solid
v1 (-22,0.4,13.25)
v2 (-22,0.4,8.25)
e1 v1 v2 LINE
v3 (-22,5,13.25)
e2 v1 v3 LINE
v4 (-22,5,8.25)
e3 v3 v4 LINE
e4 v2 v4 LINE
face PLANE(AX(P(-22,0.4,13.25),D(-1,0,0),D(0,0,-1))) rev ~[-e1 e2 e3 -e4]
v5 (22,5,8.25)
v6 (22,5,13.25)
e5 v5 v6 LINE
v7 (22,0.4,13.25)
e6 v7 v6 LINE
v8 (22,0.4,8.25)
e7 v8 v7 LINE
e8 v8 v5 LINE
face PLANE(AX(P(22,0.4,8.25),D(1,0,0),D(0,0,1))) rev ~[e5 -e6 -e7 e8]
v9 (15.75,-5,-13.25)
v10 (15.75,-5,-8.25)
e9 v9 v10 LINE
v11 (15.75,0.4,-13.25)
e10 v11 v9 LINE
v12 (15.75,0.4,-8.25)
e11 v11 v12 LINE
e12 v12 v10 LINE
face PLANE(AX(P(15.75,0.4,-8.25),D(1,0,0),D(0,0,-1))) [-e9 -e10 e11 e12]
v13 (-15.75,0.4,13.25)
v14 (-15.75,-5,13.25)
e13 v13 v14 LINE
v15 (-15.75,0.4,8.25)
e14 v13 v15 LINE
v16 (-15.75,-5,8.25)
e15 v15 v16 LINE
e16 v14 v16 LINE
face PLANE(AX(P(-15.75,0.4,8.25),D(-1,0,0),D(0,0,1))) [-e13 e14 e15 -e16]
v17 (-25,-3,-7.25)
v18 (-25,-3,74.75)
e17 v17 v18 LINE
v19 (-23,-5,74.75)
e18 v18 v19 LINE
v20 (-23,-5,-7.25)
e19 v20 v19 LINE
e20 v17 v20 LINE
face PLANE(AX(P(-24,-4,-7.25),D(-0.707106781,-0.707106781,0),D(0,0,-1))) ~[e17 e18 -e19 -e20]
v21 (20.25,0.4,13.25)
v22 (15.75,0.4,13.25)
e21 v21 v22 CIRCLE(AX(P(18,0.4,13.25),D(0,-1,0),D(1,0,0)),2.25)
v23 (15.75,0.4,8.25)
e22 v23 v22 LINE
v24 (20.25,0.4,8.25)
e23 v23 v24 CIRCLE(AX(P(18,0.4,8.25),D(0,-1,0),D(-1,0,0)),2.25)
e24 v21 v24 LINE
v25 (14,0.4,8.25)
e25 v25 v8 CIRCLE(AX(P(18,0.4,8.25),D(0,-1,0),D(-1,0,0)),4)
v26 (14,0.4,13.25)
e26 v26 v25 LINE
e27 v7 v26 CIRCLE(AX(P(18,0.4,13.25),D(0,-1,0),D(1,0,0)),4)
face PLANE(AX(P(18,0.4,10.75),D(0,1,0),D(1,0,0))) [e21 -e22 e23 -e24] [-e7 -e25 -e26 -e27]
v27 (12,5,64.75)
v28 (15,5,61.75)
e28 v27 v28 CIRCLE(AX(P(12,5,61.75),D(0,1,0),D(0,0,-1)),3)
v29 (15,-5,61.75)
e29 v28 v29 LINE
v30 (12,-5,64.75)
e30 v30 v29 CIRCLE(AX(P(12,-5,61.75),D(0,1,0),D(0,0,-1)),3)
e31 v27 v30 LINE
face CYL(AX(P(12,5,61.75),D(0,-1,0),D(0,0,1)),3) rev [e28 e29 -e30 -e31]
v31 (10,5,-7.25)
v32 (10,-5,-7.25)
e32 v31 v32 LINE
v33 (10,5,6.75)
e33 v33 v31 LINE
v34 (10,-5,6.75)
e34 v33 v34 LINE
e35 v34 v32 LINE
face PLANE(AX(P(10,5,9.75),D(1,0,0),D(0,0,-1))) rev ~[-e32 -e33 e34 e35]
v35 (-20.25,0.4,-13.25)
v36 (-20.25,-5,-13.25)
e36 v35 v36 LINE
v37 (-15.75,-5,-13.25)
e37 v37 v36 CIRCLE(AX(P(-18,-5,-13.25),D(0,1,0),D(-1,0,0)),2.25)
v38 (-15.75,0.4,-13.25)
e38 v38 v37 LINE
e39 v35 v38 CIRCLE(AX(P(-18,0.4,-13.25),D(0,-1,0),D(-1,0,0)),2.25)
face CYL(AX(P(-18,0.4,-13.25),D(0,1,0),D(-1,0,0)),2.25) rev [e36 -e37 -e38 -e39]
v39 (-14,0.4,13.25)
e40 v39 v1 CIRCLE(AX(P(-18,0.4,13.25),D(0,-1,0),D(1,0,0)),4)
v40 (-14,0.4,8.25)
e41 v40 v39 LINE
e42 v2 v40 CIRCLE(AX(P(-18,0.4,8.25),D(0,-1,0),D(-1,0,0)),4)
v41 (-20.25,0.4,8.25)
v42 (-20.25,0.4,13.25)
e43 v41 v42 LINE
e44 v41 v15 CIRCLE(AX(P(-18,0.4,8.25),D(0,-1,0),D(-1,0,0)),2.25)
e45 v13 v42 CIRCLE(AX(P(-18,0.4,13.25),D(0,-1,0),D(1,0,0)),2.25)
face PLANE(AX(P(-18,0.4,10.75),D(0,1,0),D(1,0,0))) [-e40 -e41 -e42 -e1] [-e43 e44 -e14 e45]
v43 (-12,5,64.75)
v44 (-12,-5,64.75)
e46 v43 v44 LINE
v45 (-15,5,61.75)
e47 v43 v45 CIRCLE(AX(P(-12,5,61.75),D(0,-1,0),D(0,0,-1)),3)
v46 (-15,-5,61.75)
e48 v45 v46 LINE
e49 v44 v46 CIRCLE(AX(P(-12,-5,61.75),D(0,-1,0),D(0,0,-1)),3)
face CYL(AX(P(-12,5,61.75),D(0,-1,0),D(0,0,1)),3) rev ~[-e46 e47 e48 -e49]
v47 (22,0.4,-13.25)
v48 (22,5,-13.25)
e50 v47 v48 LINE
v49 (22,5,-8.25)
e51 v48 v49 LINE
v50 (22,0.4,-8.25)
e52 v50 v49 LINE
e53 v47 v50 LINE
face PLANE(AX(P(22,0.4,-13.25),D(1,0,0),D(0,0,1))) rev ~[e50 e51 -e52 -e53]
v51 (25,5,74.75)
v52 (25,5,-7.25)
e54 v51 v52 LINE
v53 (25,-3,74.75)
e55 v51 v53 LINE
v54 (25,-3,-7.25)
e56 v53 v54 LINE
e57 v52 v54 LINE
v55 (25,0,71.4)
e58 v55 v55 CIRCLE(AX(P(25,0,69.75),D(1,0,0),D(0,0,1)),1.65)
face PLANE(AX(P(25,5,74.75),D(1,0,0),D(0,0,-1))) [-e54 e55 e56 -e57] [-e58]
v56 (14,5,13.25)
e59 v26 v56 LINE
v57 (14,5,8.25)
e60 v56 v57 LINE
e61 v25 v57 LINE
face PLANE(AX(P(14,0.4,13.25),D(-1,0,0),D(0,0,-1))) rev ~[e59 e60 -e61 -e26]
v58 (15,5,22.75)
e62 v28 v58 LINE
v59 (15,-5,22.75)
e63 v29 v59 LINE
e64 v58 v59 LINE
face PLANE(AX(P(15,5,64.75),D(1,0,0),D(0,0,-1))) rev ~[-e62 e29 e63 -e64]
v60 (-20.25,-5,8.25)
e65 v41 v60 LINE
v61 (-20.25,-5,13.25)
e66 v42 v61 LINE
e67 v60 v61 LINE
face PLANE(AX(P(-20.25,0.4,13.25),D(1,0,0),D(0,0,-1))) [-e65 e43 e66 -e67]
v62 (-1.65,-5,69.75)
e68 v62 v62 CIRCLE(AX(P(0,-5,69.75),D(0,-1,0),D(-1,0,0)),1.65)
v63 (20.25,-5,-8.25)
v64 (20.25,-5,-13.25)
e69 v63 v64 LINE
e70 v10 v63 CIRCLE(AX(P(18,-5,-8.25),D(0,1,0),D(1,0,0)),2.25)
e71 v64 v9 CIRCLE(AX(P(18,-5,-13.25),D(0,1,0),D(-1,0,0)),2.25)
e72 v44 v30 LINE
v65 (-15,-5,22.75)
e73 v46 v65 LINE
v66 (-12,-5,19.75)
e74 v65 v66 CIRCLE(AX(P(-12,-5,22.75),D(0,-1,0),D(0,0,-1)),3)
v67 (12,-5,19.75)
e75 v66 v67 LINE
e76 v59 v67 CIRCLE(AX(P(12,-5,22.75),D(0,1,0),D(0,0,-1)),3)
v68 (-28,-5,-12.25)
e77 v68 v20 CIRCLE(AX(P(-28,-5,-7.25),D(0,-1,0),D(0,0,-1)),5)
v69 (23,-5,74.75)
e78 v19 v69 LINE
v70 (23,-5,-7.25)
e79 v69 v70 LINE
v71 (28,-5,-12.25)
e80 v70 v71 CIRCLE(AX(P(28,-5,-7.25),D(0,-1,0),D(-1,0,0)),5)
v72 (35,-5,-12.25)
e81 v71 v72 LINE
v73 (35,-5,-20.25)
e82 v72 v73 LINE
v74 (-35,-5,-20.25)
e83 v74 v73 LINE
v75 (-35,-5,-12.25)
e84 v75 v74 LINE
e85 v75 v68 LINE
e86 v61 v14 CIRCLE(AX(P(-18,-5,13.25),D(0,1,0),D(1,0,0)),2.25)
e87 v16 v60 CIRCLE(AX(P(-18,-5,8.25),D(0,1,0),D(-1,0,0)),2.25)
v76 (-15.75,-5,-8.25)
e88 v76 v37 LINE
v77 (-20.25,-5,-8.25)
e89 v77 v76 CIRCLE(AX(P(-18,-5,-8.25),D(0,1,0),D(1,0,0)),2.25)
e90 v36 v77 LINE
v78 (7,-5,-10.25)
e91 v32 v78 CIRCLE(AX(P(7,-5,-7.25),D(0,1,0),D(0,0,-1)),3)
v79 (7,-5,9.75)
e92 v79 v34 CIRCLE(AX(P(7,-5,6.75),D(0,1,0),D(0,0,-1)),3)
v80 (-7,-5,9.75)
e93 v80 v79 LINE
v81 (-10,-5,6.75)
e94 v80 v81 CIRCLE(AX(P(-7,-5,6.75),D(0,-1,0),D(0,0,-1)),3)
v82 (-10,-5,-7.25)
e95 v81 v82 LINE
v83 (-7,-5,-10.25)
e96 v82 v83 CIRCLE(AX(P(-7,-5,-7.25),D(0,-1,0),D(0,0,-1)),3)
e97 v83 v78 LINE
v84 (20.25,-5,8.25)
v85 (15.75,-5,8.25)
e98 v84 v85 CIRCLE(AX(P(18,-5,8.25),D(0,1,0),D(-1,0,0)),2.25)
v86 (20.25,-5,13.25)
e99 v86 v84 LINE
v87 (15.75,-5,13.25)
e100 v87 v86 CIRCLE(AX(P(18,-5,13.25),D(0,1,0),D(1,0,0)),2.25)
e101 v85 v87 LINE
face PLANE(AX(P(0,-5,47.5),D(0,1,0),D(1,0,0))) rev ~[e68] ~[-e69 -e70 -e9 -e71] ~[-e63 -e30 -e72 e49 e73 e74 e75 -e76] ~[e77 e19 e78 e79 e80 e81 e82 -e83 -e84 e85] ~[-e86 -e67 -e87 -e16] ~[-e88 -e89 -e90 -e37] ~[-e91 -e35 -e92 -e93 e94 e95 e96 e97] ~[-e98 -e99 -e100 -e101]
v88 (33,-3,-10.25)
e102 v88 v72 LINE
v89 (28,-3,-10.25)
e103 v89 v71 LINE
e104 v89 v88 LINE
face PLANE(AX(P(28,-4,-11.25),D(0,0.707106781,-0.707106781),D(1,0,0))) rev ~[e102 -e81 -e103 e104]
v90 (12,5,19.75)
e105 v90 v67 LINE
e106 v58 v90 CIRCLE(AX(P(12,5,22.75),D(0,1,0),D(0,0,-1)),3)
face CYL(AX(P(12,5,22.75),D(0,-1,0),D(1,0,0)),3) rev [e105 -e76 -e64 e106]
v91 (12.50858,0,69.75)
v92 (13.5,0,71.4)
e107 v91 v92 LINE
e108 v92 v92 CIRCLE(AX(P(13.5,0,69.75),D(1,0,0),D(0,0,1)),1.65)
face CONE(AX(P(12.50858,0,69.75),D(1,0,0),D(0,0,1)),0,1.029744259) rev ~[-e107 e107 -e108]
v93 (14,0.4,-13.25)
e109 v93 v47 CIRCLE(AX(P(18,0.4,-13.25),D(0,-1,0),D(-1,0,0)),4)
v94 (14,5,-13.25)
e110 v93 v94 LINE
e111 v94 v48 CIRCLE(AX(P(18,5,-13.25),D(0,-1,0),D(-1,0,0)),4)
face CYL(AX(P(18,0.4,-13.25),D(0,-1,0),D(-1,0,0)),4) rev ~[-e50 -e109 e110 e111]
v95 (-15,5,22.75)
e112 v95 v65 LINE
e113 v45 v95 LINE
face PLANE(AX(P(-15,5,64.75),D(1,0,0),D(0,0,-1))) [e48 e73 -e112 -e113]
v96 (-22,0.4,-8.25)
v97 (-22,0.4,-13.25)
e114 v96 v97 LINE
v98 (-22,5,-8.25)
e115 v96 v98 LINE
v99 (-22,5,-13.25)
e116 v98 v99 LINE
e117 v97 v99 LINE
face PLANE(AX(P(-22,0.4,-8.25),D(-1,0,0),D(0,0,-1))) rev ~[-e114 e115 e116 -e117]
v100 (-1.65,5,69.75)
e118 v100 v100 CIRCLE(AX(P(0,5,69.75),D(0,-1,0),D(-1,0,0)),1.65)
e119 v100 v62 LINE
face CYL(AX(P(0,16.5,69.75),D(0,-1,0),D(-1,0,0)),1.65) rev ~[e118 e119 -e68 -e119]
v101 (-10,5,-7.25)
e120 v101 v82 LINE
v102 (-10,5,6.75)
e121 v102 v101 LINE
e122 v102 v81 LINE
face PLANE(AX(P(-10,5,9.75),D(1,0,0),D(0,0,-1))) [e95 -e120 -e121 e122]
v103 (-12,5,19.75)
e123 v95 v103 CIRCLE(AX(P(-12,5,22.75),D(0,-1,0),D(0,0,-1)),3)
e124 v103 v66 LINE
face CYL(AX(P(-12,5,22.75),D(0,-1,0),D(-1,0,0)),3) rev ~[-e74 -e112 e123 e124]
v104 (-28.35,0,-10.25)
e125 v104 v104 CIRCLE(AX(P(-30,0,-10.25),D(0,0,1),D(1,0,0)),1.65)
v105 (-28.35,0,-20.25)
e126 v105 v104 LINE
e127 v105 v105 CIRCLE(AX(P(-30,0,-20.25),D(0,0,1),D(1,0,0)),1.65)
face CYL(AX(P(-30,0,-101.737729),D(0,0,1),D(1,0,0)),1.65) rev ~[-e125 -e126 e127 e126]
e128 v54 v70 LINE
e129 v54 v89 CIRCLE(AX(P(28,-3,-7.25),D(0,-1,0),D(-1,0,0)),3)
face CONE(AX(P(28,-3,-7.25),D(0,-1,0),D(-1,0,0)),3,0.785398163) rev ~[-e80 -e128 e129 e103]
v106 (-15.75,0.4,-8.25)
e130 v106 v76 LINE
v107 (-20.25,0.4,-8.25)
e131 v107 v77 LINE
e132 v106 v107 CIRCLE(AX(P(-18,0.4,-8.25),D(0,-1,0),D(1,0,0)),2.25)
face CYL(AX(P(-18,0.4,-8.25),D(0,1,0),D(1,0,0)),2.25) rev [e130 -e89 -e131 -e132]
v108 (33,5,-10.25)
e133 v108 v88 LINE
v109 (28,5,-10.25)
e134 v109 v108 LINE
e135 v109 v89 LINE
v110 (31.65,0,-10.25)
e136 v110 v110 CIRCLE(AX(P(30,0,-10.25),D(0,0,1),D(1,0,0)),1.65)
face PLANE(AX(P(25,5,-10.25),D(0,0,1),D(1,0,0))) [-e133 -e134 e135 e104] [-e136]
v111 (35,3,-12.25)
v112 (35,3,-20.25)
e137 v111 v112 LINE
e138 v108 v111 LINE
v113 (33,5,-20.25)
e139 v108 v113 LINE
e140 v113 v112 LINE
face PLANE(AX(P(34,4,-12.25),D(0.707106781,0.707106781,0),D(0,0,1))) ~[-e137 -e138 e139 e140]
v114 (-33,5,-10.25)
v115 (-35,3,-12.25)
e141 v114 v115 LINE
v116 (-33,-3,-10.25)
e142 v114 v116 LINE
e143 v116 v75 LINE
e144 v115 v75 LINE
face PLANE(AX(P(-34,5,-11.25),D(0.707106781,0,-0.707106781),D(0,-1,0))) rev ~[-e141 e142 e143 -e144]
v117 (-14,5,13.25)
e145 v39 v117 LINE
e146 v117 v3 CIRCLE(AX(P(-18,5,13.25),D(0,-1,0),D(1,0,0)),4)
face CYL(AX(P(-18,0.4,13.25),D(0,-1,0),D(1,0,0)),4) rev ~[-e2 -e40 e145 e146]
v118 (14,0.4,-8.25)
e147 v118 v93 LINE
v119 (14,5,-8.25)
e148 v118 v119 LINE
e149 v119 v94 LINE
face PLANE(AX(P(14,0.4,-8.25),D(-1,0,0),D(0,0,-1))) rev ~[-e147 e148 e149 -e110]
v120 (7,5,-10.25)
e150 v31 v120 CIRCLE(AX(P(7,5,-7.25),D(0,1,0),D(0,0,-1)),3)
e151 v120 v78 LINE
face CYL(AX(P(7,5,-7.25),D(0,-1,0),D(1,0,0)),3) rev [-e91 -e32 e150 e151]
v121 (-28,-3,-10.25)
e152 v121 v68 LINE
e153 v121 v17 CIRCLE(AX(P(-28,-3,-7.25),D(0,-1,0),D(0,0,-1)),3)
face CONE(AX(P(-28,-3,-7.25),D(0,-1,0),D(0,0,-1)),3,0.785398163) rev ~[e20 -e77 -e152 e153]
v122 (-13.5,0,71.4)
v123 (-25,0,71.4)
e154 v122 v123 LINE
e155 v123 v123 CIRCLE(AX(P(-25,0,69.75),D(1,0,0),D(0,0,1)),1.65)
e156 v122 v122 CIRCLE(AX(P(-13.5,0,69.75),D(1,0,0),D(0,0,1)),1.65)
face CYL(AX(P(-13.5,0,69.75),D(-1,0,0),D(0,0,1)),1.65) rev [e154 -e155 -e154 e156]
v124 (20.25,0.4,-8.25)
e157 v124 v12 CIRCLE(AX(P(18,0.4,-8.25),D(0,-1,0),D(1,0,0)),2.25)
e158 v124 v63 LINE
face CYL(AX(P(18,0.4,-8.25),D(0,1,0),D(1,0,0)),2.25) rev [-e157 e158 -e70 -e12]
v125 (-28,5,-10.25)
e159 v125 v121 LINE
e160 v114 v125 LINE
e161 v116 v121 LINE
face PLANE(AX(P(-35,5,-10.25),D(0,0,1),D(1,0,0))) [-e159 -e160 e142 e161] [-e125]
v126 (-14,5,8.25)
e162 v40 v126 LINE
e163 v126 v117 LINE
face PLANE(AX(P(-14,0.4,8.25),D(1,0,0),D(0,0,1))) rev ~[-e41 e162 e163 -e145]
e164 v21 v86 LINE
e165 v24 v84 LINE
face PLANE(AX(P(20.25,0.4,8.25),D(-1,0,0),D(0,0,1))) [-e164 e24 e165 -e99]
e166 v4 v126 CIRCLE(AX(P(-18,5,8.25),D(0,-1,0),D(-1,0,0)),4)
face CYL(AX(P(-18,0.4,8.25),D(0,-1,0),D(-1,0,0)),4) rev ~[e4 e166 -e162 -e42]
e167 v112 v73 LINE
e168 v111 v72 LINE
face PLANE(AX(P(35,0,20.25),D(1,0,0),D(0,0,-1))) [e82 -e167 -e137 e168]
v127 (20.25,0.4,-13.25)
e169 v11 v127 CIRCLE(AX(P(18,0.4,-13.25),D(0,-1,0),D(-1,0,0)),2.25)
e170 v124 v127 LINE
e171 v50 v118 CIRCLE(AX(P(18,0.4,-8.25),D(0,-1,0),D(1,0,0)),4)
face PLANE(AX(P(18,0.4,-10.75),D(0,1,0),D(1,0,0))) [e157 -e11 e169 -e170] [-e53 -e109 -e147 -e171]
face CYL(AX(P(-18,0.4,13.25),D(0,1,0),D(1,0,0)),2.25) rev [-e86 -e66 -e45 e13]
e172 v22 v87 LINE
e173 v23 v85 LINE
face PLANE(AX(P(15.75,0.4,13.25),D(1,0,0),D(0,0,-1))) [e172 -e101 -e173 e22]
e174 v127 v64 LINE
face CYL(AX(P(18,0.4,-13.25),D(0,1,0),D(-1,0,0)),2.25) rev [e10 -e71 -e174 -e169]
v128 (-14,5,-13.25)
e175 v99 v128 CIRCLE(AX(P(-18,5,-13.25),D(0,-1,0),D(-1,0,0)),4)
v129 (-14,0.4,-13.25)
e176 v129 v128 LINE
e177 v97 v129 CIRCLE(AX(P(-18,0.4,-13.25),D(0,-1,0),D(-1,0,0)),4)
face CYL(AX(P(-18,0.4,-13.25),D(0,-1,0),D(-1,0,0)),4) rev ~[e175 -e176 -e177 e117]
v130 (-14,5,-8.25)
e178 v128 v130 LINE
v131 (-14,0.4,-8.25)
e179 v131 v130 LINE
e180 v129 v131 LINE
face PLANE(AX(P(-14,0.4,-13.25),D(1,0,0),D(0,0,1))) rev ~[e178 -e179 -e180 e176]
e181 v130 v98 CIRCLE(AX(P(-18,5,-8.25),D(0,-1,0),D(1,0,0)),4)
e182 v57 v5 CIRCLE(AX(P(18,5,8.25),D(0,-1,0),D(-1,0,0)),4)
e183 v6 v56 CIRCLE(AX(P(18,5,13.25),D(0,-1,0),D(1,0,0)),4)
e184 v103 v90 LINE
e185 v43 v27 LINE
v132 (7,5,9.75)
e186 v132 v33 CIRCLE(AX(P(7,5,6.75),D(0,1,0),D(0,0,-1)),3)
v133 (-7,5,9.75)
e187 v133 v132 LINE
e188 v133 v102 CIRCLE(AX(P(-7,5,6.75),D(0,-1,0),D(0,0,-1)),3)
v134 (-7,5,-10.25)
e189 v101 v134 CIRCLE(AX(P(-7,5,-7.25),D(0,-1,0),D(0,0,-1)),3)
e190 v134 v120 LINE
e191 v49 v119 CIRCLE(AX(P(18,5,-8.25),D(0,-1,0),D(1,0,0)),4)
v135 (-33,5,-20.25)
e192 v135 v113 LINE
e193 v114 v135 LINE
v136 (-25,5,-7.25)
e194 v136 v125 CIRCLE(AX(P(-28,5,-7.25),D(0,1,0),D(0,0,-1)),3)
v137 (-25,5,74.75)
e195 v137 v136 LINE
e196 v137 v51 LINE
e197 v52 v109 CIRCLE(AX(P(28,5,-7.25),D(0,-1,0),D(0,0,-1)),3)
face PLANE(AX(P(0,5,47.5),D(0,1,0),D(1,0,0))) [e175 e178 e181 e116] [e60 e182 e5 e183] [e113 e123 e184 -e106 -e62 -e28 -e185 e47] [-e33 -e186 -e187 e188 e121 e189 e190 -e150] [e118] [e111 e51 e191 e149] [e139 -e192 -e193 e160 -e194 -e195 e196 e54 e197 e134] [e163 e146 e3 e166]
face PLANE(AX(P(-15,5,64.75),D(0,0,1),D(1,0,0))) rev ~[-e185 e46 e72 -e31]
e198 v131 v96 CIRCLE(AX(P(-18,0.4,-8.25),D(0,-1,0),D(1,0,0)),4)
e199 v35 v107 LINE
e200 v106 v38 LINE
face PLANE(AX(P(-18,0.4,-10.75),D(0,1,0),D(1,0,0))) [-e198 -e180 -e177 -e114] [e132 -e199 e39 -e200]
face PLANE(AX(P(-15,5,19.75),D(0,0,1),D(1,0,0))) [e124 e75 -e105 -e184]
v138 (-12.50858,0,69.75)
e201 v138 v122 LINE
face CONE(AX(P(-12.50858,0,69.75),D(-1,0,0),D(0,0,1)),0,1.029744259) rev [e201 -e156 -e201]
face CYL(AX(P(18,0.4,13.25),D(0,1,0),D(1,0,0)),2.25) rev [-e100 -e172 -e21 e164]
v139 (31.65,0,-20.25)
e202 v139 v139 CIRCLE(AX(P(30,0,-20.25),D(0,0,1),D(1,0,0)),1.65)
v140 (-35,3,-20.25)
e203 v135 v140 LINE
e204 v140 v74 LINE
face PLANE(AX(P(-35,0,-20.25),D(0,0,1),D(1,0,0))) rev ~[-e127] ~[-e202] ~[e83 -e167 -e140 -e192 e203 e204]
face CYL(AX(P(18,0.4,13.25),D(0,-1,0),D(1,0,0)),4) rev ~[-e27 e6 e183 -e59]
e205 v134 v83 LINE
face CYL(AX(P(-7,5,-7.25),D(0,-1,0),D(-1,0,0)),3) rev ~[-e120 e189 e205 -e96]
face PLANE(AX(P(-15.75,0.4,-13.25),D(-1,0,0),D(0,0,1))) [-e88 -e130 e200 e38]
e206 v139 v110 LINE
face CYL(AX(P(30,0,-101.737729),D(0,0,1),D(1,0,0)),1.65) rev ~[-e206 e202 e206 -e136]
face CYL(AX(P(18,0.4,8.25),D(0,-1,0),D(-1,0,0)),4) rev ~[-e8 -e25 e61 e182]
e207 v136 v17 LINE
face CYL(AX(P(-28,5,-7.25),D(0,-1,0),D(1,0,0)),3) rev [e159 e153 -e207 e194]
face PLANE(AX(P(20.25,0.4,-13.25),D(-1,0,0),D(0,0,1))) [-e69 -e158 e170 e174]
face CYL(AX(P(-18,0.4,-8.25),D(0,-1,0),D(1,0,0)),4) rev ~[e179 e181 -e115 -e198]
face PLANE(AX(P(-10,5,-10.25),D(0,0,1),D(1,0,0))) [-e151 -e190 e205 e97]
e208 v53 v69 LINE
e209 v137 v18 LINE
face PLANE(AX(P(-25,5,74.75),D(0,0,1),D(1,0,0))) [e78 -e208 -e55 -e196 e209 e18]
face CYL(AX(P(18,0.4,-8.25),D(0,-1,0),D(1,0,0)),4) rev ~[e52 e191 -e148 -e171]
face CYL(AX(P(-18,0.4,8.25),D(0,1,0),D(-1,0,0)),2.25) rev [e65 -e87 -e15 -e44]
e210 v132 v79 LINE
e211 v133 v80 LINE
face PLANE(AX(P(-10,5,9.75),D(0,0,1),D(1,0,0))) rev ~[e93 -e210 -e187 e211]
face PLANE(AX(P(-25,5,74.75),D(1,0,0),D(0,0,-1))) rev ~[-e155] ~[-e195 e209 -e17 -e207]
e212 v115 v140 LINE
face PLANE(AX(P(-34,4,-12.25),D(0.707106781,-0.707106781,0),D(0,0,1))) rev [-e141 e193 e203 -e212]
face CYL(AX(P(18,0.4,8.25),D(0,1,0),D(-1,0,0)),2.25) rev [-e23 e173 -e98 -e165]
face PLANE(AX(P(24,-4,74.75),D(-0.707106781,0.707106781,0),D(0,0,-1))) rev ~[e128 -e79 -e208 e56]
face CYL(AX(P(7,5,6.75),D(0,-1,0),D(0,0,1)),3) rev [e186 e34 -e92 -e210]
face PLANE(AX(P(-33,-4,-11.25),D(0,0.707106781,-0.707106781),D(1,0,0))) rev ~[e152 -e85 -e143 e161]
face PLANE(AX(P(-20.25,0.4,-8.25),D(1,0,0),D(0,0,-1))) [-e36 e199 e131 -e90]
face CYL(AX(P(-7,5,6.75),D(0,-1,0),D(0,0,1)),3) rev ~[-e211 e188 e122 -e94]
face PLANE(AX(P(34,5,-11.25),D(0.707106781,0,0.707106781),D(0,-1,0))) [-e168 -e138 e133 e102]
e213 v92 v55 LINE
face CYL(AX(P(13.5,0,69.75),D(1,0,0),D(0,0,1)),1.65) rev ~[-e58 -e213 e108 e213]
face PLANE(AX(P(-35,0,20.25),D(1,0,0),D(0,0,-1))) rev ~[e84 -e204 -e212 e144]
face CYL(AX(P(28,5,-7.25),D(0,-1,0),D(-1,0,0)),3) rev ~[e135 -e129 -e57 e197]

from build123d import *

# Parameters (mm, degrees)
SKETCH1_W                                            = 70
SKETCH1_H                                            = 40.5
BOSS_EXTRUDE1_DEPTH                                  = 5
CBORE_FOR_M4_HEXAGON_SOCKET_HEAD_CAP_SCR_D           = 4.5
CBORE_FOR_M4_HEXAGON_SOCKET_HEAD_CAP_SCR_CBORE_D     = 8
CBORE_FOR_M4_HEXAGON_SOCKET_HEAD_CAP_SCR_CBORE_DEPTH = 4.6
CUT_EXTRUDE1_DEPTH                                   = 41.794883258
CUT_EXTRUDE2_DEPTH                                   = 41.794883258
M4_TAPPED_HOLE1_D                                    = 3.3
SKETCH10_W                                           = 10
SKETCH10_H                                           = 30.5
CUT_EXTRUDE3_DEPTH                                   = 42.654081433
SKETCH13_W                                           = 50
SKETCH13_H                                           = 54.5
BOSS_EXTRUDE3_DEPTH                                  = 10
SKETCH14_W                                           = 20
SKETCH14_H                                           = 20
SKETCH14_W_2                                         = 30
SKETCH14_H_2                                         = 45
CUT_EXTRUDE4_DEPTH                                   = 84.141821606
M4_TAPPED_HOLE3_D                                    = 3.3
M4_TAPPED_HOLE3_DEPTH                                = 11.5
M4_TAPPED_HOLE3_TIP                                  = 0.991420021
FILLET1_R                                            = 3
CHAMFER1_SIZE                                        = 2
CHAMFER2_SIZE                                        = 2
CHAMFER3_SIZE                                        = 2


with BuildPart() as part:
    # Sketch1 → Boss-Extrude1 (new, symmetric)
    with BuildSketch(Plane(origin=(0, 0, 0), x_dir=(1, 0, 0), z_dir=(0, 1, 0))):
        Rectangle(SKETCH1_W, SKETCH1_H)
    extrude(amount=BOSS_EXTRUDE1_DEPTH, both=True)

    # CBORE for M4 Hexagon socket head cap screws1 (through all)
    with Locations(Plane(origin=(0, 5, 0), x_dir=(1, 0, 0), z_dir=(0, 1, 0))):
        with Locations((-18, 10.75), (18, 10.75), (18, -10.75), (-18, -10.75)):
            CounterBoreHole(CBORE_FOR_M4_HEXAGON_SOCKET_HEAD_CAP_SCR_D / 2, CBORE_FOR_M4_HEXAGON_SOCKET_HEAD_CAP_SCR_CBORE_D / 2, CBORE_FOR_M4_HEXAGON_SOCKET_HEAD_CAP_SCR_CBORE_DEPTH)

    # Sketch4 → Cut-Extrude1 (cut, through all)
    with BuildSketch(Plane(origin=(0, 0.4, 0), x_dir=(1, 0, 0), z_dir=(0, 1, 0))):
        with BuildLine():
            Line((-22, 8.25), (-22, 13.25))
            ThreePointArc((-22, 13.25), (-18, 17.25), (-14, 13.25))
            Line((-14, 13.25), (-14, 8.25))
            ThreePointArc((-14, 8.25), (-18, 4.25), (-22, 8.25))
        make_face()
        with BuildLine():
            Line((22, 13.25), (22, 8.25))
            ThreePointArc((22, 8.25), (18, 4.25), (14, 8.25))
            Line((14, 8.25), (14, 13.25))
            ThreePointArc((14, 13.25), (18, 17.25), (22, 13.25))
        make_face()
        with BuildLine():
            Line((-14, -8.25), (-14, -13.25))
            ThreePointArc((-14, -13.25), (-18, -17.25), (-22, -13.25))
            Line((-22, -13.25), (-22, -8.25))
            ThreePointArc((-22, -8.25), (-18, -4.25), (-14, -8.25))
        make_face()
        with BuildLine():
            Line((22, -8.25), (22, -13.25))
            ThreePointArc((22, -13.25), (18, -17.25), (14, -13.25))
            Line((14, -13.25), (14, -8.25))
            ThreePointArc((14, -8.25), (18, -4.25), (22, -8.25))
        make_face()
    extrude(amount=CUT_EXTRUDE1_DEPTH, mode=Mode.SUBTRACT)

    # Sketch5 → Cut-Extrude2 (cut, through all)
    with BuildSketch(Plane(origin=(0, 0.4, 0), x_dir=(1, 0, 0), z_dir=(0, 1, 0))):
        with BuildLine():
            Line((-15.75, 13.25), (-15.75, 8.25))
            ThreePointArc((-15.75, 8.25), (-18, 6), (-20.25, 8.25))
            Line((-20.25, 8.25), (-20.25, 13.25))
            ThreePointArc((-20.25, 13.25), (-18, 15.5), (-15.75, 13.25))
        make_face()
        with BuildLine():
            Line((20.25, 13.25), (20.25, 8.25))
            ThreePointArc((20.25, 8.25), (18, 6), (15.75, 8.25))
            Line((15.75, 8.25), (15.75, 13.25))
            ThreePointArc((15.75, 13.25), (18, 15.5), (20.25, 13.25))
        make_face()
        with BuildLine():
            Line((-15.75, -8.25), (-15.75, -13.25))
            ThreePointArc((-15.75, -13.25), (-18, -15.5), (-20.25, -13.25))
            Line((-20.25, -13.25), (-20.25, -8.25))
            ThreePointArc((-20.25, -8.25), (-18, -6), (-15.75, -8.25))
        make_face()
        with BuildLine():
            Line((20.25, -8.25), (20.25, -13.25))
            ThreePointArc((20.25, -13.25), (18, -15.5), (15.75, -13.25))
            Line((15.75, -13.25), (15.75, -8.25))
            ThreePointArc((15.75, -8.25), (18, -6), (20.25, -8.25))
        make_face()
    extrude(amount=-CUT_EXTRUDE2_DEPTH, mode=Mode.SUBTRACT)

    # M4 Tapped Hole1 (through all)
    with Locations(Plane(origin=(0, 0, -20.25), x_dir=(-1, 0, 0), z_dir=(0, 0, -1))):
        with Locations((-30, 0), (30, 0)):
            Hole(M4_TAPPED_HOLE1_D / 2)

    # Sketch10 → Cut-Extrude3 (cut, through all)
    with BuildSketch(Plane(origin=(0, 5, 0), x_dir=(1, 0, 0), z_dir=(0, 1, 0))):
        with Locations((-30, -5)):
            Rectangle(SKETCH10_W, SKETCH10_H)
        with Locations((30, -5)):
            Rectangle(SKETCH10_W, SKETCH10_H)
    extrude(amount=-CUT_EXTRUDE3_DEPTH, mode=Mode.SUBTRACT)

    # Sketch13 → Boss-Extrude3 (add)
    with BuildSketch(Plane(origin=(0, 5, 0), x_dir=(1, 0, 0), z_dir=(0, 1, 0))):
        with Locations((0, -47.5)):
            Rectangle(SKETCH13_W, SKETCH13_H)
    extrude(amount=-BOSS_EXTRUDE3_DEPTH)

    # Sketch14 → Cut-Extrude4 (cut, through all)
    with BuildSketch(Plane(origin=(0, 5, 0), x_dir=(1, 0, 0), z_dir=(0, 1, 0))):
        with Locations((0, 0.25)):
            Rectangle(SKETCH14_W, SKETCH14_H)
        with Locations((0, -42.25)):
            Rectangle(SKETCH14_W_2, SKETCH14_H_2)
    extrude(amount=-CUT_EXTRUDE4_DEPTH, mode=Mode.SUBTRACT)

    # Sketch17 → M4 Tapped Hole2 (revolve, cut)
    with BuildSketch(Plane(origin=(-25, 0, 69.75), x_dir=(0, 0, 1), z_dir=(0, 1, 0))):
        Polygon((0, 0), (0, 12.491420021), (1.65, 11.5), (1.65, 0), align=None)
    m4_tapped_hole2 = revolve(axis=Axis((-31.35, 0, 69.75), (1, 0, 0)), mode=Mode.SUBTRACT)

    # Mirror1: M4 Tapped Hole2 across plane
    add(m4_tapped_hole2.mirror(Plane(origin=(0, 0, 0), x_dir=(0, 0, 1), z_dir=(1, 0, 0))), mode=Mode.SUBTRACT)

    # M4 Tapped Hole3
    with Locations(Plane(origin=(0, 5, 0), x_dir=(1, 0, 0), z_dir=(0, 1, 0))):
        with Locations((0, -69.75)):
            Hole(M4_TAPPED_HOLE3_D / 2, depth=M4_TAPPED_HOLE3_DEPTH)
            with Locations((0, 0, -(M4_TAPPED_HOLE3_DEPTH + M4_TAPPED_HOLE3_TIP / 2))):  # 118° drill point
                Cone(0, M4_TAPPED_HOLE3_D / 2, M4_TAPPED_HOLE3_TIP, mode=Mode.SUBTRACT)

    # Fillet1
    fillet1_edges = [part.edges().sort_by_distance(p)[0] for p in [
        (-25, 0, -10.25),
        (25, 0, -10.25),
        (-10, 0, 9.75),
        (-10, 0, -10.25),
        (10, 0, -10.25),
        (10, 0, 9.75),
        (-15, 0, 19.75),
        (15, 0, 19.75),
        (15, 0, 64.75),
        (-15, 0, 64.75),
    ]]
    fillet(fillet1_edges, radius=FILLET1_R)

    # Chamfer1
    chamfer1_edges = [part.edges().sort_by_distance(p)[0] for p in [
        (-35, 0, -10.25),
        (35, 0, -10.25),
    ]]
    chamfer(chamfer1_edges, length=CHAMFER1_SIZE)

    # Chamfer2
    chamfer2_edges = [part.edges().sort_by_distance(p)[0] for p in [
        (35, 5, -16.25),
        (-35, 5, -16.25),
    ]]
    chamfer(chamfer2_edges, length=CHAMFER2_SIZE)

    # Chamfer3
    chamfer3_edges = [part.edges().sort_by_distance(p)[0] for p in [
        (-30.5, -5, -10.25),
        (-25.878679656, -5, -9.371320344),
        (-25, -5, 33.75),
        (30.5, -5, -10.25),
        (25.878679656, -5, -9.371320344),
        (25, -5, 33.75),
    ]]
    chamfer(chamfer3_edges, length=CHAMFER3_SIZE)


solid = part.part
